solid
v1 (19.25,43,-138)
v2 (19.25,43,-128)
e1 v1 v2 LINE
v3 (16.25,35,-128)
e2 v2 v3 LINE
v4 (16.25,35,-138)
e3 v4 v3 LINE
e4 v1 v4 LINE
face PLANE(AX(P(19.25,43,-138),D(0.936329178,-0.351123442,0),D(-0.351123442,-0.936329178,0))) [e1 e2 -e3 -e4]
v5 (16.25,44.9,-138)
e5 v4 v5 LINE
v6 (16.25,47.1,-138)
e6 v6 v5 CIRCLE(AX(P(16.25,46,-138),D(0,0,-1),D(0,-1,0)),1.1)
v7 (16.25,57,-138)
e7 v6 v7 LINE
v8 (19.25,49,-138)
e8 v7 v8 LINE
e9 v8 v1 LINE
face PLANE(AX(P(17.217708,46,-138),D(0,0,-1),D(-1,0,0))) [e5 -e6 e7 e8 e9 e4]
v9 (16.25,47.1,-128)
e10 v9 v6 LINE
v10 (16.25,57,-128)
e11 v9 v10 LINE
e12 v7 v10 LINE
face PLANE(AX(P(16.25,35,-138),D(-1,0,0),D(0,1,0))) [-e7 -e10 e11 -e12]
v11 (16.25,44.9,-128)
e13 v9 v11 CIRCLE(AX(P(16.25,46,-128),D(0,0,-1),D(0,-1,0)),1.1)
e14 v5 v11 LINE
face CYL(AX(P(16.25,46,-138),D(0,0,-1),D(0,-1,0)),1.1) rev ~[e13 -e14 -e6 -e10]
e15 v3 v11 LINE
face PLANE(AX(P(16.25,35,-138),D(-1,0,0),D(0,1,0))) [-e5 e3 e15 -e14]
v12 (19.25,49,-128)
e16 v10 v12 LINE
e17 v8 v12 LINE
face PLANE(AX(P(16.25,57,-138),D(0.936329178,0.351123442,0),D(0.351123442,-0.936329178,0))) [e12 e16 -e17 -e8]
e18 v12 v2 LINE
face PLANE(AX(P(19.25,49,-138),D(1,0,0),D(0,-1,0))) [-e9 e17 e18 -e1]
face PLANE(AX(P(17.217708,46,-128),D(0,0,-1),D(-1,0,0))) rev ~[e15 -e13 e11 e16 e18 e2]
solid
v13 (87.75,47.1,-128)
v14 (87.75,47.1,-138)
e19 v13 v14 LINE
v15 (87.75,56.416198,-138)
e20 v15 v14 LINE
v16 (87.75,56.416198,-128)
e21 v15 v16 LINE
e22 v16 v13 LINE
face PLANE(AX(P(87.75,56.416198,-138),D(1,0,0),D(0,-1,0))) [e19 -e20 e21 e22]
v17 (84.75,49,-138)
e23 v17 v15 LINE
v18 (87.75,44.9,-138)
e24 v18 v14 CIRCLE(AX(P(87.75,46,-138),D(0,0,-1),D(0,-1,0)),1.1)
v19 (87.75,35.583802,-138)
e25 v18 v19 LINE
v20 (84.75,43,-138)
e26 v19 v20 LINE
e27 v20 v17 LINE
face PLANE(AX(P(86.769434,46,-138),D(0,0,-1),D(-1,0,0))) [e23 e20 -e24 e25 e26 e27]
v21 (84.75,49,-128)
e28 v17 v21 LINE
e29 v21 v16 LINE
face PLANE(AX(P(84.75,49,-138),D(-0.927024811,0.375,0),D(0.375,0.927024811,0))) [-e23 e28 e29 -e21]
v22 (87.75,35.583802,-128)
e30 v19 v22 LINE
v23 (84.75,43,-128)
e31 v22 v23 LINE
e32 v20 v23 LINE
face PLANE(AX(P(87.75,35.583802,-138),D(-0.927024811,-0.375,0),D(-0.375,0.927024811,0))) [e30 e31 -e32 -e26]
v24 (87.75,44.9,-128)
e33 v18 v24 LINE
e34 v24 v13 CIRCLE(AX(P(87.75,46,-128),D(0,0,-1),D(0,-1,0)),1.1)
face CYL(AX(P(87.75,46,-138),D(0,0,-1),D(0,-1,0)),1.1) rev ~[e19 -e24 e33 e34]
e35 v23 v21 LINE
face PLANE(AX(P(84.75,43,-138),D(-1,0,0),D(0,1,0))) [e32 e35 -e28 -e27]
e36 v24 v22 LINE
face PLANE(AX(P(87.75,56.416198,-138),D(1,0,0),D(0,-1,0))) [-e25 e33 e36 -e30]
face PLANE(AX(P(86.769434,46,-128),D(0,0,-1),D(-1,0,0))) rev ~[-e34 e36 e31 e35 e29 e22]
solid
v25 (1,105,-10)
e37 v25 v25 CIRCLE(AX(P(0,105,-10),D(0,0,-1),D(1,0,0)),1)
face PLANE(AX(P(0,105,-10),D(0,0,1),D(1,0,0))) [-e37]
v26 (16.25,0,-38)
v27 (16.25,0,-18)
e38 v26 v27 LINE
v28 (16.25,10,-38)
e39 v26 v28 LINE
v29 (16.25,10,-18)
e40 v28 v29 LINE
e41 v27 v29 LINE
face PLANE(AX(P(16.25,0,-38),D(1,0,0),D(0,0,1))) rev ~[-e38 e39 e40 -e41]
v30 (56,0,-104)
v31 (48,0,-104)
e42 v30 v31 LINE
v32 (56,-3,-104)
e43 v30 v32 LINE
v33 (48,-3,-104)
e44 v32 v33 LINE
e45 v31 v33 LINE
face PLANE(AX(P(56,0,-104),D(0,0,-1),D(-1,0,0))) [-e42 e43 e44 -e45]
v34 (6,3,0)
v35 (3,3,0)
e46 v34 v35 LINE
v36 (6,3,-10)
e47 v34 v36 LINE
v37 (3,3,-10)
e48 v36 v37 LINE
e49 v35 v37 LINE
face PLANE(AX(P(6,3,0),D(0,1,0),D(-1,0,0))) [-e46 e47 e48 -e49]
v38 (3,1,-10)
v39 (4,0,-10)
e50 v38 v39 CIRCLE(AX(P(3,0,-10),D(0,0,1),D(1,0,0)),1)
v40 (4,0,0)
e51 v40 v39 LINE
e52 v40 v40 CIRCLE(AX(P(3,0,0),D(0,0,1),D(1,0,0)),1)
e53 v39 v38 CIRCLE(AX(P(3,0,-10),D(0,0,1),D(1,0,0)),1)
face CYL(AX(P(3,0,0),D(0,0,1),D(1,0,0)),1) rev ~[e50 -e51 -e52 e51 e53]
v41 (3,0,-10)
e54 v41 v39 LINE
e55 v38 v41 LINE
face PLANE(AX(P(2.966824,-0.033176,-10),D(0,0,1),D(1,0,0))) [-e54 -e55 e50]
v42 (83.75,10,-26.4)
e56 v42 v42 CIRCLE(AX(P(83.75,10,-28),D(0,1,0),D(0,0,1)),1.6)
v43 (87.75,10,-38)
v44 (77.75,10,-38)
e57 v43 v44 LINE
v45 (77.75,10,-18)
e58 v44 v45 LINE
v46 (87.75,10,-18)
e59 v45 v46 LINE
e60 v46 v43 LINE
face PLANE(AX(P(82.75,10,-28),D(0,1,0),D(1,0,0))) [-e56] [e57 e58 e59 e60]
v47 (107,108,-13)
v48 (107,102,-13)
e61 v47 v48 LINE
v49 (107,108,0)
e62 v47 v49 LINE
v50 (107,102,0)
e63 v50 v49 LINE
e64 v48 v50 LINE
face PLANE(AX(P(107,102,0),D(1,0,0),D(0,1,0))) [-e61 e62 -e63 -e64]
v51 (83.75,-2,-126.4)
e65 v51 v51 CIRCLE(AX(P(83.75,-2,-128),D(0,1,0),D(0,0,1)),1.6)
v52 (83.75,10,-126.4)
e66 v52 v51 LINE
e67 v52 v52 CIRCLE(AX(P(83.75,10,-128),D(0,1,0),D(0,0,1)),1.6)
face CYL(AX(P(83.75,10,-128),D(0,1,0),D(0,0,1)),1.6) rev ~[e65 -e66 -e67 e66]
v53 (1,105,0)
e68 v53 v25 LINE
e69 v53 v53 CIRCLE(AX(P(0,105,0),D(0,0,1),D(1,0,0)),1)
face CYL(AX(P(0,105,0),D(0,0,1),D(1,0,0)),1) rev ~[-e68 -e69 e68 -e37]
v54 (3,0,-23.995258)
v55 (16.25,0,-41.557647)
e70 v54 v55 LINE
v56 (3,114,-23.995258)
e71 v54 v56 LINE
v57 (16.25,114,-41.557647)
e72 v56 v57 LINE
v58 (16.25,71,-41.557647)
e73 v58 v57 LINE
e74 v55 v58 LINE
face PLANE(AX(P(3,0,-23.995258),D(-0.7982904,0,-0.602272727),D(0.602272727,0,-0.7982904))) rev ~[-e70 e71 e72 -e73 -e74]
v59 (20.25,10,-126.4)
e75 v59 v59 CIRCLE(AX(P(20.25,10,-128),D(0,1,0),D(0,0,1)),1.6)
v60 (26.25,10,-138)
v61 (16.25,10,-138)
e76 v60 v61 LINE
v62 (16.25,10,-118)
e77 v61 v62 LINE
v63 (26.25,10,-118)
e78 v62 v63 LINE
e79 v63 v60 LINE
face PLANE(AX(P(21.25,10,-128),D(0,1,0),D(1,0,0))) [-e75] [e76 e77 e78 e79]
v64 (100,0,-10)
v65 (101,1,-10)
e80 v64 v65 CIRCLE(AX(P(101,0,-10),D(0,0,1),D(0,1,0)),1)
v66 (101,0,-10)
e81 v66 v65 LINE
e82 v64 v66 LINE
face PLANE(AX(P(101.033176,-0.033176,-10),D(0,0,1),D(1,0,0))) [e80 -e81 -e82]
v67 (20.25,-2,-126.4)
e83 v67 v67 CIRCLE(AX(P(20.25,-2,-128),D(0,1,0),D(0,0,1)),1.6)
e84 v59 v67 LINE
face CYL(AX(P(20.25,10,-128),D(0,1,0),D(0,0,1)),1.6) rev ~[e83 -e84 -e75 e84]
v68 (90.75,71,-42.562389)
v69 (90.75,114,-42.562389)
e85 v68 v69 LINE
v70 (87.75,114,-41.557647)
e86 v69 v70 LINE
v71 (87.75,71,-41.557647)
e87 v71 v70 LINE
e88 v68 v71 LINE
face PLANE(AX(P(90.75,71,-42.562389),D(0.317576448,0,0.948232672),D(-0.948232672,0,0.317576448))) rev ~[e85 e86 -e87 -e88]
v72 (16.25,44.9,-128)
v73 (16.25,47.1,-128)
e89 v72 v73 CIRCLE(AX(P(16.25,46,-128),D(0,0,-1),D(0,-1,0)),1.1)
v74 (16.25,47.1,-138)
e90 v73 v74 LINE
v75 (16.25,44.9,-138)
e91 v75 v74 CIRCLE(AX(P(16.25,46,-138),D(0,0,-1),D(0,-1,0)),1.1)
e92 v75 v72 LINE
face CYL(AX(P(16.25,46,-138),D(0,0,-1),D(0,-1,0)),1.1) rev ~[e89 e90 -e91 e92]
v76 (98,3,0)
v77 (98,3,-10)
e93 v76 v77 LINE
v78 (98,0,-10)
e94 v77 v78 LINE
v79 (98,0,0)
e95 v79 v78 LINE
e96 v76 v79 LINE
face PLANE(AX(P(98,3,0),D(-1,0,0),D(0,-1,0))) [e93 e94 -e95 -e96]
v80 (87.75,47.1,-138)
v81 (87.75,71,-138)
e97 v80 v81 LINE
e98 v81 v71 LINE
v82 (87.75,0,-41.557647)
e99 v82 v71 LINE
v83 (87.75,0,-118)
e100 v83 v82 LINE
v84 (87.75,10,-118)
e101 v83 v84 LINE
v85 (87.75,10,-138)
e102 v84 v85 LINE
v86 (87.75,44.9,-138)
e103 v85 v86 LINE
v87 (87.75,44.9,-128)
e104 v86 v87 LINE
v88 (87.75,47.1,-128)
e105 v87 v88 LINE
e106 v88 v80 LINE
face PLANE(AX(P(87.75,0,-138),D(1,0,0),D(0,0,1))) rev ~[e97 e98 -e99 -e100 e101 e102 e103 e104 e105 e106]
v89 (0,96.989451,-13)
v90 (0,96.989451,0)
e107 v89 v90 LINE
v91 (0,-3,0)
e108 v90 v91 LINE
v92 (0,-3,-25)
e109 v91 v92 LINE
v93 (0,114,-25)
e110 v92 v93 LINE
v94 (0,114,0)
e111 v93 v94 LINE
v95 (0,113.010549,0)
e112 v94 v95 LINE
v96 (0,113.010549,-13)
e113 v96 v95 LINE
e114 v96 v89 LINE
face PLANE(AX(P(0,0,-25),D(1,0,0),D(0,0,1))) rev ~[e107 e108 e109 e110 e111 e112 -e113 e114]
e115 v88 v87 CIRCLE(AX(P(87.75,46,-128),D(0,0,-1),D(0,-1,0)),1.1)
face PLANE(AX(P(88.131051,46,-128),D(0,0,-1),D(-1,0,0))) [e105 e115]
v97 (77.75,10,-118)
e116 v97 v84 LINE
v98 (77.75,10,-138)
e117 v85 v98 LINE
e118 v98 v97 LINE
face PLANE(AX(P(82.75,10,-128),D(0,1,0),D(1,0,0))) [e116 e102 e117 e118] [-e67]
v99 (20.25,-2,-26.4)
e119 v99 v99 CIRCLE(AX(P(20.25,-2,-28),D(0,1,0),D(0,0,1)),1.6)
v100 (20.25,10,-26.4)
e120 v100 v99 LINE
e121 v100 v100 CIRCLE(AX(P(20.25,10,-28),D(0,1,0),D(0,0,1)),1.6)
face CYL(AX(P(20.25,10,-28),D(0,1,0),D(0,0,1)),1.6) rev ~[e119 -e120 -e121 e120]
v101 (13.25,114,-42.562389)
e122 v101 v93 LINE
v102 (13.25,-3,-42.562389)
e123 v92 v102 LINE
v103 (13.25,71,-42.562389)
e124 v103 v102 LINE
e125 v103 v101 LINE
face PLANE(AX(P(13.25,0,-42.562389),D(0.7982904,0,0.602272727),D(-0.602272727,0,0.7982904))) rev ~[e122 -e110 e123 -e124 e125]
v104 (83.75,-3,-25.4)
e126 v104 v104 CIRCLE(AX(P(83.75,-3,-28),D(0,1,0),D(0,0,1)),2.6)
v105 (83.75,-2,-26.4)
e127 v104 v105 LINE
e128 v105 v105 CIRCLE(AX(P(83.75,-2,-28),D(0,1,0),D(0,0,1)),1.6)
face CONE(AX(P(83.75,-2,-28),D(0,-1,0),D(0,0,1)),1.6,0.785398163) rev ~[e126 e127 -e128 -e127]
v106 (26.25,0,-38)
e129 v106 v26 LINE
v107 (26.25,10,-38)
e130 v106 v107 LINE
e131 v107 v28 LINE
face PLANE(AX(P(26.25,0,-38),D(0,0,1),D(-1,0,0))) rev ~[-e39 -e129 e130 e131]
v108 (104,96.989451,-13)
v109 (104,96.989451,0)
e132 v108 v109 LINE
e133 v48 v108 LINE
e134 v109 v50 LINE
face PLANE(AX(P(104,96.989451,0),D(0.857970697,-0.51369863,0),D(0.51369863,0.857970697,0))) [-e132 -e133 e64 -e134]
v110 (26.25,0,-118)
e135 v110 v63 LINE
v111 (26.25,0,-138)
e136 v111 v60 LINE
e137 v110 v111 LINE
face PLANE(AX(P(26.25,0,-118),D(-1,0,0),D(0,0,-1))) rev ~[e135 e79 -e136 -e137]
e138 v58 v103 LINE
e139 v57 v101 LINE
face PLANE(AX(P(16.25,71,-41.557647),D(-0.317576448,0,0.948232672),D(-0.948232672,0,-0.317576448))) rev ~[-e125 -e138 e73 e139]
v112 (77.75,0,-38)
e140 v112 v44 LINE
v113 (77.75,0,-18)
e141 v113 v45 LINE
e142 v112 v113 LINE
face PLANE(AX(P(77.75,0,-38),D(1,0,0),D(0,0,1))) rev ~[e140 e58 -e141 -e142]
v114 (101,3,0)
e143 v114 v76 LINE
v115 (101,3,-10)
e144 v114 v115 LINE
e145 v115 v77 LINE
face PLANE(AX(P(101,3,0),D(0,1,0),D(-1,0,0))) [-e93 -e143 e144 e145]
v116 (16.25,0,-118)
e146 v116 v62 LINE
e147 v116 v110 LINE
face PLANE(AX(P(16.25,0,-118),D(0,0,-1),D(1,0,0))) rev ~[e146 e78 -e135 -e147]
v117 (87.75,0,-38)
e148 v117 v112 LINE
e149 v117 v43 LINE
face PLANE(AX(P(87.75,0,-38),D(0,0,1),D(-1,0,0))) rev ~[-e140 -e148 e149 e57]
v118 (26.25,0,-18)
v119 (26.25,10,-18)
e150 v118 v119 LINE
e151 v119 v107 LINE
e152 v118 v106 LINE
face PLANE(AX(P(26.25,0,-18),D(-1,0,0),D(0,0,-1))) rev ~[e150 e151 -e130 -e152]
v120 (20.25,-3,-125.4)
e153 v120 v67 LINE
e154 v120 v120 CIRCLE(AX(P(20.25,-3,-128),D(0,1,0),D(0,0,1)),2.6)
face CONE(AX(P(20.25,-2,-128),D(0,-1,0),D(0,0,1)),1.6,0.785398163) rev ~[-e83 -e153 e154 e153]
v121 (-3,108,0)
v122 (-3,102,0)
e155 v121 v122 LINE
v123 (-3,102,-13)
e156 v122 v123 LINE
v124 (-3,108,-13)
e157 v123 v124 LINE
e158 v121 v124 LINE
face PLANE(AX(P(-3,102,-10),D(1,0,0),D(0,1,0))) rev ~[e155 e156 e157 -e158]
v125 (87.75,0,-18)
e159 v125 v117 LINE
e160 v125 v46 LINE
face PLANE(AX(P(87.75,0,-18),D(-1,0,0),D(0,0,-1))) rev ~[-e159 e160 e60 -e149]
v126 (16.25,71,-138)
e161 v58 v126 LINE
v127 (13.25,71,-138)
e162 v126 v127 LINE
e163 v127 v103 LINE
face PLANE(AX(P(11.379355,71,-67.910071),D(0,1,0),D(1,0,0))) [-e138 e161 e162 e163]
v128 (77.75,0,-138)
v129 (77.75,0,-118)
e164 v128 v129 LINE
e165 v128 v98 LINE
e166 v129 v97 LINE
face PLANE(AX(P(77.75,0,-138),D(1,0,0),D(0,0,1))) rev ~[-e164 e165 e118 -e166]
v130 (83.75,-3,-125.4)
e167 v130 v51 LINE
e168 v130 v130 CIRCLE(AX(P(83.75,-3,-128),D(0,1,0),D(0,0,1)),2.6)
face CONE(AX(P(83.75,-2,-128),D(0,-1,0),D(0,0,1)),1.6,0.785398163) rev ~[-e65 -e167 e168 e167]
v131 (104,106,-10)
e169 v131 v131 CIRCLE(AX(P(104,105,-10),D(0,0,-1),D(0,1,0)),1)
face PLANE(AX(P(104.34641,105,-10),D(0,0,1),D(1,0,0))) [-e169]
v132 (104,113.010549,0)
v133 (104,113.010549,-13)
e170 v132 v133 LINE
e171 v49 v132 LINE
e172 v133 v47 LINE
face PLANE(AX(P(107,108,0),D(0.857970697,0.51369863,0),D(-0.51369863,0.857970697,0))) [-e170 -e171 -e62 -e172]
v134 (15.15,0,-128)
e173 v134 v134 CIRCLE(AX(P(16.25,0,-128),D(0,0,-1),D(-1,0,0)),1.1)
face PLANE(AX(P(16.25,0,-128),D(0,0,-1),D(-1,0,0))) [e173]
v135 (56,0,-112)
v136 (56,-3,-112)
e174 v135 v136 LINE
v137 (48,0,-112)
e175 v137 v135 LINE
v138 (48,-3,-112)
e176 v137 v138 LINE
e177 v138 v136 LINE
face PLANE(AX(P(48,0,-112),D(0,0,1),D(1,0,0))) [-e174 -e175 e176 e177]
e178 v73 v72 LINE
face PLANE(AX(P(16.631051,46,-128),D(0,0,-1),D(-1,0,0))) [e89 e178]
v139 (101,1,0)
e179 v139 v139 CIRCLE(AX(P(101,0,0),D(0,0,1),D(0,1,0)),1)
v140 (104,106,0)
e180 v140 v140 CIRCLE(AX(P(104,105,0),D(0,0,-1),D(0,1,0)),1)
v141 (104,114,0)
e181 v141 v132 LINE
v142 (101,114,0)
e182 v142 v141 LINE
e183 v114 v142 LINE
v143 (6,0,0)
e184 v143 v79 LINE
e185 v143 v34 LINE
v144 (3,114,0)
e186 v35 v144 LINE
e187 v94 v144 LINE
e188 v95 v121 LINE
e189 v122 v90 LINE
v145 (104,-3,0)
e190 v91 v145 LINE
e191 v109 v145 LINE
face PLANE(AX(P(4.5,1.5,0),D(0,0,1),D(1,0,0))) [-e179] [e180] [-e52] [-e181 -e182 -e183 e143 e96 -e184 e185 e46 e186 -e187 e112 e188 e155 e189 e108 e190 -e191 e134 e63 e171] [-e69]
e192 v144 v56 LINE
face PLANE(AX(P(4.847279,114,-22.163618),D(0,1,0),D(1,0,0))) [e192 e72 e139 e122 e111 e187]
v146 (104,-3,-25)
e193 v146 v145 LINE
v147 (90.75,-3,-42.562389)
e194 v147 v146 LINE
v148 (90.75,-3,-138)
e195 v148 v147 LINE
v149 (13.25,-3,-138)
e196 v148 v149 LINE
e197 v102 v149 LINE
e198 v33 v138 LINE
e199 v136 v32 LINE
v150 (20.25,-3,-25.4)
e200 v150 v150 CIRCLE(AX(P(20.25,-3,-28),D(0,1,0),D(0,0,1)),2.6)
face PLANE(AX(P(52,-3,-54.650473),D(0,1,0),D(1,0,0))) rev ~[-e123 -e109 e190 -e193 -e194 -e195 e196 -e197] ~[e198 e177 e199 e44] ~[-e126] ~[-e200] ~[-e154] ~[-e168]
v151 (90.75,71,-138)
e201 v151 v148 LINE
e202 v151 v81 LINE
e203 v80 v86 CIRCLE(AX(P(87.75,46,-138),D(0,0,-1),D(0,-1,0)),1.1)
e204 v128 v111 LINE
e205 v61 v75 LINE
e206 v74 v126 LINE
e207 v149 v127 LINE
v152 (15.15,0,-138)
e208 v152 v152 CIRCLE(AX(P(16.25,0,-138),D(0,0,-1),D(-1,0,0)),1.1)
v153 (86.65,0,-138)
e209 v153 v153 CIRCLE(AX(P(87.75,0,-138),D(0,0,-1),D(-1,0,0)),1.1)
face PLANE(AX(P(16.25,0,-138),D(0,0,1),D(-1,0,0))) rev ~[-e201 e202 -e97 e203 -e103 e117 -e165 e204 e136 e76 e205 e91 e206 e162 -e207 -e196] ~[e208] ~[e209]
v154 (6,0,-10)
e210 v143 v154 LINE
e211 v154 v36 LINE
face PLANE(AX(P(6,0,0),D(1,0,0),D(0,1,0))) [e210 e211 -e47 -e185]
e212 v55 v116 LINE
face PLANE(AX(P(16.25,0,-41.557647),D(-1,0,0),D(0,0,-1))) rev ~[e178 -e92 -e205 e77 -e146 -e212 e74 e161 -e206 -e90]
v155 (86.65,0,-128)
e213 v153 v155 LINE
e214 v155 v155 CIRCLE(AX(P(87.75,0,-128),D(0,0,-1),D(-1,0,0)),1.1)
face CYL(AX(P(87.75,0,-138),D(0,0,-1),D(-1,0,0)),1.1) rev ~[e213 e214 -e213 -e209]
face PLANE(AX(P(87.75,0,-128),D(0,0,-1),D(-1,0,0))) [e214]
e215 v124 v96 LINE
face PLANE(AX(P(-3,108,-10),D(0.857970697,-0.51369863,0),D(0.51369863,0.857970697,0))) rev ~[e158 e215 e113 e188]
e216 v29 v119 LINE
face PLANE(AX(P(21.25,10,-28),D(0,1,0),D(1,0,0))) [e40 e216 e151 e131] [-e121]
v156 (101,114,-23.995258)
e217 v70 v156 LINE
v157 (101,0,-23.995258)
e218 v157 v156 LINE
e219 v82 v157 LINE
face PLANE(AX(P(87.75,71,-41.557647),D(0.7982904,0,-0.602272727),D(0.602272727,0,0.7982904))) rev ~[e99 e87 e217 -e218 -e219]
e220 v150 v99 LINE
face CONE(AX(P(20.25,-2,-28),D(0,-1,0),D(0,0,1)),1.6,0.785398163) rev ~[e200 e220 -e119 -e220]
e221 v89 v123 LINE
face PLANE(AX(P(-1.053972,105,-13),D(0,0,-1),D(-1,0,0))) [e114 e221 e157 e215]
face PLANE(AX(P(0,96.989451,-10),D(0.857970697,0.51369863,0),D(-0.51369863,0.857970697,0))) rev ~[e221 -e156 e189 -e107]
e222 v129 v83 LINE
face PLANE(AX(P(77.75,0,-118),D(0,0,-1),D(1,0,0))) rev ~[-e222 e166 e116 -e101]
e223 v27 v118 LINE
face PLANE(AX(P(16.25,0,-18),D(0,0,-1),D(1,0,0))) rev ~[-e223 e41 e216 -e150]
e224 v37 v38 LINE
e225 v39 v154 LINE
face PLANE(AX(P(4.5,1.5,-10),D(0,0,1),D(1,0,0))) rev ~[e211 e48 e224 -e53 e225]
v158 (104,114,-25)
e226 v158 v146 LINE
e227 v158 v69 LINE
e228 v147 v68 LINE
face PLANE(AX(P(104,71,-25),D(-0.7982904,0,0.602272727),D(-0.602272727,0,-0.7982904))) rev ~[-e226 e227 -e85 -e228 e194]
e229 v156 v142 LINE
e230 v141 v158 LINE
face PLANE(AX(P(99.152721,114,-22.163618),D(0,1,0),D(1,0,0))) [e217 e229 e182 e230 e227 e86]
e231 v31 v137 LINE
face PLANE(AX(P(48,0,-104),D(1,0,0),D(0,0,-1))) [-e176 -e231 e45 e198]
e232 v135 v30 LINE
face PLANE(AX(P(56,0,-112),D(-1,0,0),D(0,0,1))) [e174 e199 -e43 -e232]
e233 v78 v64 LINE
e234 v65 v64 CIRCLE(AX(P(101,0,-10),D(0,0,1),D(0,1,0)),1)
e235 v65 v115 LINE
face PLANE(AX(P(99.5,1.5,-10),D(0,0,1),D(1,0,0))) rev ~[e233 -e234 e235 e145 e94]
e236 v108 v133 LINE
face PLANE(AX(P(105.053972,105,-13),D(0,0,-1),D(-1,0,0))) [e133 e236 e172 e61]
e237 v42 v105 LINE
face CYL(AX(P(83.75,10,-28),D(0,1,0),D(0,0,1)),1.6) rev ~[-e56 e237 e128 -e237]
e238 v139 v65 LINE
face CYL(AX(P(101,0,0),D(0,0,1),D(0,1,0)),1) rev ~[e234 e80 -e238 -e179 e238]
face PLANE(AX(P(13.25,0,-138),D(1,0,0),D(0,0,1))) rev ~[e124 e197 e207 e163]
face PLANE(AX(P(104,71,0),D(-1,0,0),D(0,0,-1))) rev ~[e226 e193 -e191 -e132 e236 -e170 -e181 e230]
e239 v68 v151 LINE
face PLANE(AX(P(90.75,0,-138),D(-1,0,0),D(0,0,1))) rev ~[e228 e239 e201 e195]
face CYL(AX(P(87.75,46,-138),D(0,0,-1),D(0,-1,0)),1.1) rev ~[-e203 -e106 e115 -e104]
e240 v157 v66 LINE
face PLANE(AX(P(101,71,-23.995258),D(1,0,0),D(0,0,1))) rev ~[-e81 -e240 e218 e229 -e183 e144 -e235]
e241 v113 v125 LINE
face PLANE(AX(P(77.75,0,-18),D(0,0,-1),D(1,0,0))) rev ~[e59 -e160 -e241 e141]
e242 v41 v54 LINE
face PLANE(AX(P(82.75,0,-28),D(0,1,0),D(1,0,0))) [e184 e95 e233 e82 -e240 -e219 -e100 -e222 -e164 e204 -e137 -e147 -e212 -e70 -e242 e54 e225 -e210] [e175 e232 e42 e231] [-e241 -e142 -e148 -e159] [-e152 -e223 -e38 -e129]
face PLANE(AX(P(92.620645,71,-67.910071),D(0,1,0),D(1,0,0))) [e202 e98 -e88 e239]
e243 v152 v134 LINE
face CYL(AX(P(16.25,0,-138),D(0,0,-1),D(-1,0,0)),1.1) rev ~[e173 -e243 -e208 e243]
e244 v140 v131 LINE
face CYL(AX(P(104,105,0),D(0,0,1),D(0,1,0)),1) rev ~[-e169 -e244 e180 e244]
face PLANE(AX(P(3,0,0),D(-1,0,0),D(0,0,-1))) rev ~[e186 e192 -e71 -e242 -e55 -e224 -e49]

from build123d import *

# Parameters (mm, degrees)
DODANIE_WYCI_GNI_CIE1_DEPTH   = 3
DODANIE_WYCI_GNI_CIE2_DEPTH   = 71
DODANIE_WYCI_GNI_CIE4_DEPTH   = 43
DODANIE_WYCI_GNI_CIE5_DEPTH   = 10
DODANIE_WYCI_GNI_CIE6_DEPTH   = 10
DODANIE_WYCI_GNI_CIE6_2_DEPTH = 10
DODANIE_WYCI_GNI_CIE7_DEPTH   = 10
SZKIC4_5_R                    = 0.9999999999999987
WYTNIJ_WYCI_GNI_CIE1_DEPTH    = 10
SZKIC3_3_R                    = 1.100000000000006
SZKIC3_3_R_2                  = 1.100000000000001
WYTNIJ_WYCI_GNI_CIE2_DEPTH    = 10
DODANIE_WYCI_GNI_CIE11_DEPTH  = 3
SZKIC12_R                     = 1.6000000000000019
SZKIC12_R_2                   = 1.600000000000005
SZKIC12_R_3                   = 1.5999999999999988
SZKIC12_R_4                   = 1.600000000000002
WYTNIJ_WYCI_GNI_CIE3_DEPTH    = 13
SFAZOWANIE2_SIZE              = 1


with BuildPart() as part:
    # Szkic1 → Dodanie-wyciągnięcie1 (new body)
    # profile 1 of 9: a face of its own
    with BuildSketch(Plane(origin=(0, 0, 0), x_dir=(1, 0, 0), z_dir=(0, 1, 0))):
        Polygon((16.250000000000007, 138), (16.25000000000002, 41.557646628857135), (3.0000000000000027, 23.99525783917362), (3.0000000000000027, 0), (0, 0), (0, 25), (13.25, 42.56238878968349), (13.249999999999977, 138), align=None)
    # profile 2 of 9: a face of its own
    with BuildSketch(Plane(origin=(0, 0, 0), x_dir=(1, 0, 0), z_dir=(0, 1, 0))):
        Polygon((16.250000000000007, 138), (16.25000000000001, 118.00000000000001), (22.250000000000018, 118.00000000000001), (26.250000000000014, 118.00000000000001), (26.25000000000001, 138), align=None)
    # profile 3 of 9: a face of its own
    with BuildSketch(Plane(origin=(0, 0, 0), x_dir=(1, 0, 0), z_dir=(0, 1, 0))):
        Polygon((16.25000000000001, 118.00000000000001), (16.25000000000002, 41.55764662885713), (16.25000000000002, 38.00000000000002), (22.250000000000018, 38.00000000000002), (22.250000000000018, 118.00000000000003), align=None)
    # profile 4 of 9: a face of its own
    with BuildSketch(Plane(origin=(0, 0, 0), x_dir=(1, 0, 0), z_dir=(0, 1, 0))):
        Polygon((3.0000000000000027, 23.99525783917362), (3.0000000000000027, 0), (100.99999999999996, 2.329e-14), (100.99999999999997, 23.99525783917362), (87.74999999999994, 41.557646628857135), (87.74999999999994, 38.00000000000002), (87.74999999999991, 18.000000000000014), (77.74999999999991, 18.00000000000002), (77.74999999999991, 38.00000000000003), (81.74999999999991, 38.00000000000002), (81.7499999999999, 118.00000000000003), (77.74999999999991, 118.00000000000001), (77.74999999999991, 138), (26.25000000000001, 138), (26.250000000000014, 118.00000000000001), (22.250000000000018, 118.00000000000001), (22.250000000000018, 38.00000000000002), (26.250000000000025, 38.00000000000002), (26.250000000000025, 18.000000000000014), (16.25000000000002, 18.000000000000014), (16.25000000000002, 38.00000000000002), (16.25000000000002, 41.557646628857135), align=None)
        Polygon((48, 112.00000000000001), (55.99999999999997, 112), (55.999999999999964, 104.00000000000001), (48, 104.00000000000001), align=None, mode=Mode.SUBTRACT)
    # profile 5 of 9: a face of its own
    with BuildSketch(Plane(origin=(0, 0, 0), x_dir=(1, 0, 0), z_dir=(0, 1, 0))):
        Polygon((81.7499999999999, 118.00000000000001), (87.74999999999991, 118.00000000000003), (87.74999999999994, 138), (77.74999999999991, 138), (77.74999999999991, 118.00000000000001), align=None)
    # profile 6 of 9: a face of its own
    with BuildSketch(Plane(origin=(0, 0, 0), x_dir=(1, 0, 0), z_dir=(0, 1, 0))):
        Polygon((87.74999999999994, 38.00000000000002), (87.74999999999994, 41.557646628857135), (87.74999999999994, 118.00000000000003), (81.7499999999999, 118.00000000000001), (81.74999999999991, 38.00000000000003), align=None)
    # profile 7 of 9: a face of its own
    with BuildSketch(Plane(origin=(0, 0, 0), x_dir=(1, 0, 0), z_dir=(0, 1, 0))):
        Polygon((87.74999999999994, 138), (90.74999999999996, 137.9999999999999), (90.74999999999997, 42.56238878968349), (103.99999999999996, 25), (103.99999999999999, 2.4e-14), (100.99999999999996, 0), (100.99999999999997, 23.99525783917362), (87.74999999999994, 41.557646628857135), align=None)
    # profile 8 of 9: a face of its own
    with BuildSketch(Plane(origin=(0, 0, 0), x_dir=(1, 0, 0), z_dir=(0, 1, 0))):
        Polygon((22.250000000000018, 38.00000000000002), (16.250000000000018, 38.00000000000002), (16.25000000000002, 18.000000000000014), (26.250000000000025, 18.000000000000014), (26.250000000000025, 38.00000000000002), align=None)
    # profile 9 of 9: a face of its own
    with BuildSketch(Plane(origin=(0, 0, 0), x_dir=(1, 0, 0), z_dir=(0, 1, 0))):
        Polygon((87.74999999999991, 18.000000000000014), (87.74999999999994, 38.00000000000002), (81.74999999999991, 38.00000000000002), (77.74999999999991, 38.00000000000003), (77.74999999999991, 18.00000000000002), align=None)
    extrude(amount=-DODANIE_WYCI_GNI_CIE1_DEPTH)

    # Szkic1<3> → Dodanie-wyciągnięcie2 (add)
    with BuildSketch(Plane(origin=(0, 0, 0), x_dir=(1, 0, 0), z_dir=(0, 1, 0))):
        Polygon((0, 0), (3.0000000000000027, 0), (3.0000000000000027, 23.99525783917362), (16.25000000000002, 41.557646628857135), (16.250000000000007, 138), (13.249999999999977, 138), (13.25, 42.562388789683496), (0, 25), align=None)
        Polygon((100.99999999999997, 23.99525783917362), (100.99999999999996, 0), (103.99999999999999, 2.4e-14), (103.99999999999996, 25), (90.74999999999997, 42.56238878968349), (90.74999999999996, 137.9999999999999), (87.74999999999994, 138), (87.74999999999994, 41.55764662885713), align=None)
    extrude(amount=DODANIE_WYCI_GNI_CIE2_DEPTH)

    # Szkic2 → Dodanie-wyciągnięcie4 (add)
    with BuildSketch(Plane(origin=(0, 71, 0), x_dir=(1, 0, 0), z_dir=(0, 1, 0))):
        Polygon((90.74999999999997, 42.56238878968349), (87.74999999999994, 41.557646628857135), (100.99999999999996, 23.995257839173625), (100.99999999999996, 0), (103.99999999999999, 2.4e-14), (103.99999999999997, 25), align=None)
        Polygon((16.25000000000002, 41.557646628857135), (13.25, 42.56238878968349), (-5.33e-15, 25), (0, 0), (3.0000000000000027, 0), (3.0000000000000027, 23.99525783917362), align=None)
    extrude(amount=DODANIE_WYCI_GNI_CIE4_DEPTH)

    # Szkic1<5> → Dodanie-wyciągnięcie5 (add)
    with BuildSketch(Plane(origin=(0, 0, 0), x_dir=(1, 0, 0), z_dir=(0, 1, 0))):
        Polygon((22.250000000000018, 38.00000000000002), (16.250000000000018, 38.00000000000002), (16.25000000000002, 18.000000000000014), (26.250000000000025, 18.000000000000014), (26.250000000000025, 38.00000000000002), align=None)
        Polygon((87.74999999999991, 18.000000000000014), (87.74999999999994, 38.00000000000002), (81.74999999999991, 38.00000000000002), (77.74999999999991, 38.00000000000003), (77.74999999999991, 18.00000000000002), align=None)
        Polygon((16.250000000000007, 138), (16.25000000000001, 118.00000000000001), (22.250000000000018, 118.00000000000001), (26.250000000000014, 118.00000000000001), (26.25000000000001, 138), align=None)
        Polygon((81.7499999999999, 118.00000000000001), (87.74999999999991, 118.00000000000003), (87.74999999999994, 138), (77.74999999999991, 138), (77.74999999999991, 118.00000000000001), align=None)
    extrude(amount=DODANIE_WYCI_GNI_CIE5_DEPTH)

    # Szkic4 → Dodanie-wyciągnięcie7 (add)
    with BuildSketch(Plane.XY):
        Polygon((0, 113.01054887212972), (-3.0000000000000027, 108.00000000000004), (-3.0000000000000027, 102.00000000000001), (0, 96.98945112787034), align=None)
        Polygon((5.999999999999927, 2.9999999999999756), (3.0000000000000027, 2.9999999999999813), (3.0000000000000027, 0), (5.999999999999928, 0), align=None)
        Polygon((97.99999999999994, 2.9999999999999756), (97.99999999999994, 0), (100.99999999999996, 0), (100.99999999999996, 2.9999999999999836), align=None)
        with BuildLine():
            Line((103.99999999999989, 96.98945112787034), (106.99999999999987, 102.00000000000001))
            Line((106.99999999999987, 102.00000000000001), (106.99999999999987, 108.00000000000004))
            Line((106.99999999999987, 108.00000000000004), (103.99999999999989, 113.01054887212972))
            Line((103.99999999999989, 113.01054887212972), (103.99999999999996, 106.00000000000004))
            ThreePointArc((103.99999999999996, 106.00000000000004), (104.99999999999986, 105.00000000000004), (103.99999999999996, 104.00000000000004))
            Line((103.99999999999996, 104.00000000000004), (103.99999999999989, 96.98945112787034))
        make_face()
    extrude(amount=-DODANIE_WYCI_GNI_CIE7_DEPTH)

    # Szkic4<5> → Wytnij-wyciągnięcie1 (cut)
    with BuildSketch(Plane.XY):
        with BuildLine():
            Line((3.0000000000000027, 0), (3.0000000000000027, 0.9999999999999849))
            ThreePointArc((3.00000000000002, 0.9999999999999849), (2.2928932188133495, -0.7071067811865266), (3.999999999999926, -1.326e-14))
            Line((3.999999999999929, 0), (3, 0))
        make_face()
        with BuildLine():
            ThreePointArc((3.999999999999926, -1.301e-14), (3.7071067811865066, 0.7071067811865006), (3.00000000000002, 0.9999999999999849))
            Line((3.0000000000000027, 0.9999999999999849), (3.0000000000000027, 0))
            Line((3, 0), (3.999999999999929, 0))
        make_face()
        with BuildLine():
            Line((3.0000000000000027, 0), (3.0000000000000027, 0.9999999999999849))
            ThreePointArc((3.00000000000002, 0.9999999999999849), (2.2928932188133495, -0.7071067811865266), (3.999999999999926, -1.326e-14))
            Line((3.999999999999929, 0), (3, 0))
        make_face()
        with BuildLine():
            ThreePointArc((3.999999999999926, -1.301e-14), (3.7071067811865066, 0.7071067811865006), (3.00000000000002, 0.9999999999999849))
            Line((3.0000000000000027, 0.9999999999999849), (3.0000000000000027, 0))
            Line((3, 0), (3.999999999999929, 0))
        make_face()
        with BuildLine():
            Line((100.99999999999996, 0), (99.99999999999997, 0))
            ThreePointArc((99.99999999999997, -1.289e-14), (100.99999999999997, -1.0000000000000113), (101.99999999999997, -1.326e-14))
            ThreePointArc((101.99999999999997, -1.301e-14), (101.70710678118652, 0.7071067811865333), (100.99999999999997, 0.9999999999999853))
            Line((100.99999999999996, 0.9999999999999858), (100.99999999999996, 0))
        make_face()
        with BuildLine():
            ThreePointArc((100.99999999999997, 0.9999999999999853), (100.29289321881342, 0.7071067811865334), (99.99999999999997, -1.289e-14))
            Line((99.99999999999997, 0), (100.99999999999996, 0))
            Line((100.99999999999996, 0), (100.99999999999996, 0.9999999999999858))
        make_face()
        with BuildLine():
            Line((100.99999999999996, 0), (99.99999999999997, 0))
            ThreePointArc((99.99999999999997, -1.289e-14), (100.99999999999997, -1.0000000000000113), (101.99999999999997, -1.326e-14))
            ThreePointArc((101.99999999999997, -1.301e-14), (101.70710678118652, 0.7071067811865333), (100.99999999999997, 0.9999999999999853))
            Line((100.99999999999996, 0.9999999999999858), (100.99999999999996, 0))
        make_face()
        with BuildLine():
            ThreePointArc((100.99999999999997, 0.9999999999999853), (100.29289321881342, 0.7071067811865334), (99.99999999999997, -1.289e-14))
            Line((99.99999999999997, 0), (100.99999999999996, 0))
            Line((100.99999999999996, 0), (100.99999999999996, 0.9999999999999858))
        make_face()
        with BuildLine():
            Line((103.99999999999999, 106.00000000000004), (103.99999999999999, 104.00000000000004))
            ThreePointArc((103.99999999999996, 104.00000000000004), (104.70710678118644, 104.29289321881353), (104.99999999999986, 105.00000000000004))
            ThreePointArc((104.99999999999986, 105.00000000000004), (104.70710678118644, 105.70710678118655), (103.99999999999996, 106.00000000000004))
        make_face()
        with BuildLine():
            ThreePointArc((103.99999999999996, 106.00000000000004), (102.99999999999986, 105.00000000000004), (103.99999999999996, 104.00000000000004))
            Line((103.99999999999999, 104.00000000000004), (103.99999999999999, 106.00000000000004))
        make_face()
        with Locations((0, 105.00000000000003)):
            Circle(SZKIC4_5_R)
    extrude(amount=-WYTNIJ_WYCI_GNI_CIE1_DEPTH, mode=Mode.SUBTRACT)


with BuildPart() as body_2:
    # Szkic3 → Dodanie-wyciągnięcie6 (new body)
    with BuildSketch(Plane(origin=(0, 0, -138), x_dir=(-1, 0, 0), z_dir=(0, 0, -1))):
        Polygon((-87.74999999999997, 56.41619848709567), (-87.74999999999996, 35.583801512904344), (-84.74999999999996, 43), (-84.74999999999996, 49.00000000000001), align=None)
    extrude(amount=-DODANIE_WYCI_GNI_CIE6_DEPTH)


with BuildPart() as body_3:
    # Szkic3 → Dodanie-wyci_gni_cie6 2 (new body)
    with BuildSketch(Plane(origin=(0, 0, -138), x_dir=(-1, 0, 0), z_dir=(0, 0, -1))):
        Polygon((-16.250000000000004, 35), (-16.250000000000007, 57.000000000000014), (-19.24999999999999, 49.00000000000001), (-19.250000000000004, 43), align=None)
    extrude(amount=-DODANIE_WYCI_GNI_CIE6_2_DEPTH)


with BuildPart() as wytnij_wyci_gni_cie2_tool:
    # Szkic3<3> → Wytnij-wyciągnięcie2 (new body)
    with BuildSketch(Plane(origin=(0, 0, -138), x_dir=(-1, 0, 0), z_dir=(0, 0, -1))):
        with BuildLine():
            Line((-87.74999999999994, 44.9), (-87.74999999999994, 47.100000000000016))
            ThreePointArc((-87.74999999999997, 47.100000000000016), (-88.84999999999997, 46.00000000000001), (-87.74999999999997, 44.9))
        make_face()
        with BuildLine():
            ThreePointArc((-86.64999999999995, 46.00000000000001), (-86.97218254069476, 46.77781745930522), (-87.74999999999997, 47.100000000000016))
            Line((-87.74999999999994, 47.100000000000016), (-87.74999999999994, 44.9))
            ThreePointArc((-87.74999999999997, 44.9), (-86.97218254069476, 45.222182540694796), (-86.64999999999995, 46.00000000000001))
        make_face()
        with BuildLine():
            Line((-87.74999999999994, 44.9), (-87.74999999999994, 47.100000000000016))
            ThreePointArc((-87.74999999999997, 47.100000000000016), (-88.84999999999997, 46.00000000000001), (-87.74999999999997, 44.9))
        make_face()
        with BuildLine():
            ThreePointArc((-86.64999999999995, 46.00000000000001), (-86.97218254069476, 46.77781745930522), (-87.74999999999997, 47.100000000000016))
            Line((-87.74999999999994, 47.100000000000016), (-87.74999999999994, 44.9))
            ThreePointArc((-87.74999999999997, 44.9), (-86.97218254069476, 45.222182540694796), (-86.64999999999995, 46.00000000000001))
        make_face()
        with BuildLine():
            Line((-16.250000000000007, 44.900000000000006), (-16.250000000000007, 47.10000000000001))
            ThreePointArc((-16.250000000000032, 47.10000000000001), (-17.35, 46.00000000000001), (-16.25000000000003, 44.900000000000006))
        make_face()
        with BuildLine():
            ThreePointArc((-15.15, 46.00000000000001), (-15.47218254069481, 46.77781745930522), (-16.250000000000032, 47.10000000000001))
            Line((-16.250000000000007, 47.10000000000001), (-16.250000000000007, 44.900000000000006))
            ThreePointArc((-16.25000000000003, 44.900000000000006), (-15.472182540694808, 45.222182540694796), (-15.15, 46.00000000000001))
        make_face()
        with BuildLine():
            Line((-16.250000000000007, 44.900000000000006), (-16.250000000000007, 47.10000000000001))
            ThreePointArc((-16.250000000000032, 47.10000000000001), (-17.35, 46.00000000000001), (-16.25000000000003, 44.900000000000006))
        make_face()
        with BuildLine():
            ThreePointArc((-15.15, 46.00000000000001), (-15.47218254069481, 46.77781745930522), (-16.250000000000032, 47.10000000000001))
            Line((-16.250000000000007, 47.10000000000001), (-16.250000000000007, 44.900000000000006))
            ThreePointArc((-16.25000000000003, 44.900000000000006), (-15.472182540694808, 45.222182540694796), (-15.15, 46.00000000000001))
        make_face()
        with Locations((-87.74999999999997, 0)):
            Circle(SZKIC3_3_R)
        with Locations((-16.249999999999986, 0)):
            Circle(SZKIC3_3_R_2)
    extrude(amount=-WYTNIJ_WYCI_GNI_CIE2_DEPTH)


with BuildPart() as part_1:
    add(part.part)

    # Wytnij-wyciągnięcie2: cut by wytnij_wyci_gni_cie2_tool
    add(wytnij_wyci_gni_cie2_tool.part, mode=Mode.SUBTRACT)

    # Szkic11 → Dodanie-wyciągnięcie11 (add)
    with BuildSketch(Plane(origin=(0, 0, -10), x_dir=(-1, 0, 0), z_dir=(0, 0, -1))):
        Polygon((0, 113.01054887212972), (0, 106.00000000000003), (0, 104.00000000000003), (0, 96.98945112787035), (3.0000000000000027, 102.00000000000001), (3.0000000000000027, 108.00000000000004), align=None)
        Polygon((-103.99999999999999, 106.00000000000004), (-103.99999999999999, 113.01054887212958), (-106.99999999999987, 108.00000000000004), (-106.99999999999987, 102.00000000000001), (-103.99999999999999, 96.98945112787047), (-103.99999999999999, 104.00000000000004), align=None)
    extrude(amount=DODANIE_WYCI_GNI_CIE11_DEPTH)

    # Szkic12 → Wytnij-wyciągnięcie3 (cut)
    with BuildSketch(Plane(origin=(0, 10, 0), x_dir=(1, 0, 0), z_dir=(0, 1, 0))):
        with Locations(Location((20.25000000000002, 28.000000000000025, 0), (0, 0, 270))):
            Circle(SZKIC12_R)
        with Locations(Location((83.74999999999993, 28.00000000000004, 0), (0, 0, 270))):
            Circle(SZKIC12_R_2)
        with Locations(Location((20.250000000000007, 128, 0), (0, 0, 270))):
            Circle(SZKIC12_R_3)
        with Locations(Location((83.74999999999991, 128, 0), (0, 0, 270))):
            Circle(SZKIC12_R_4)
    extrude(amount=-WYTNIJ_WYCI_GNI_CIE3_DEPTH, mode=Mode.SUBTRACT)

    # Sfazowanie2
    sfazowanie2_edges = [part_1.edges().sort_by_distance(p)[0] for p in [
        (83.74999999999993, -3, -29.600000000000044),
        (20.250000000000007, -3, -129.6),
        (83.74999999999991, -3, -129.6),
        (20.25000000000002, -3, -29.600000000000026),
    ]]
    chamfer(sfazowanie2_edges, length=SFAZOWANIE2_SIZE)


with BuildPart() as body_2_1:
    add(body_2.part)

    # Wytnij-wyciągnięcie2: cut by wytnij_wyci_gni_cie2_tool
    add(wytnij_wyci_gni_cie2_tool.part, mode=Mode.SUBTRACT)


with BuildPart() as body_3_1:
    add(body_3.part)

    # Wytnij-wyciągnięcie2: cut by wytnij_wyci_gni_cie2_tool
    add(wytnij_wyci_gni_cie2_tool.part, mode=Mode.SUBTRACT)


solid = Compound([part_1.part, body_2_1.part, body_3_1.part])
